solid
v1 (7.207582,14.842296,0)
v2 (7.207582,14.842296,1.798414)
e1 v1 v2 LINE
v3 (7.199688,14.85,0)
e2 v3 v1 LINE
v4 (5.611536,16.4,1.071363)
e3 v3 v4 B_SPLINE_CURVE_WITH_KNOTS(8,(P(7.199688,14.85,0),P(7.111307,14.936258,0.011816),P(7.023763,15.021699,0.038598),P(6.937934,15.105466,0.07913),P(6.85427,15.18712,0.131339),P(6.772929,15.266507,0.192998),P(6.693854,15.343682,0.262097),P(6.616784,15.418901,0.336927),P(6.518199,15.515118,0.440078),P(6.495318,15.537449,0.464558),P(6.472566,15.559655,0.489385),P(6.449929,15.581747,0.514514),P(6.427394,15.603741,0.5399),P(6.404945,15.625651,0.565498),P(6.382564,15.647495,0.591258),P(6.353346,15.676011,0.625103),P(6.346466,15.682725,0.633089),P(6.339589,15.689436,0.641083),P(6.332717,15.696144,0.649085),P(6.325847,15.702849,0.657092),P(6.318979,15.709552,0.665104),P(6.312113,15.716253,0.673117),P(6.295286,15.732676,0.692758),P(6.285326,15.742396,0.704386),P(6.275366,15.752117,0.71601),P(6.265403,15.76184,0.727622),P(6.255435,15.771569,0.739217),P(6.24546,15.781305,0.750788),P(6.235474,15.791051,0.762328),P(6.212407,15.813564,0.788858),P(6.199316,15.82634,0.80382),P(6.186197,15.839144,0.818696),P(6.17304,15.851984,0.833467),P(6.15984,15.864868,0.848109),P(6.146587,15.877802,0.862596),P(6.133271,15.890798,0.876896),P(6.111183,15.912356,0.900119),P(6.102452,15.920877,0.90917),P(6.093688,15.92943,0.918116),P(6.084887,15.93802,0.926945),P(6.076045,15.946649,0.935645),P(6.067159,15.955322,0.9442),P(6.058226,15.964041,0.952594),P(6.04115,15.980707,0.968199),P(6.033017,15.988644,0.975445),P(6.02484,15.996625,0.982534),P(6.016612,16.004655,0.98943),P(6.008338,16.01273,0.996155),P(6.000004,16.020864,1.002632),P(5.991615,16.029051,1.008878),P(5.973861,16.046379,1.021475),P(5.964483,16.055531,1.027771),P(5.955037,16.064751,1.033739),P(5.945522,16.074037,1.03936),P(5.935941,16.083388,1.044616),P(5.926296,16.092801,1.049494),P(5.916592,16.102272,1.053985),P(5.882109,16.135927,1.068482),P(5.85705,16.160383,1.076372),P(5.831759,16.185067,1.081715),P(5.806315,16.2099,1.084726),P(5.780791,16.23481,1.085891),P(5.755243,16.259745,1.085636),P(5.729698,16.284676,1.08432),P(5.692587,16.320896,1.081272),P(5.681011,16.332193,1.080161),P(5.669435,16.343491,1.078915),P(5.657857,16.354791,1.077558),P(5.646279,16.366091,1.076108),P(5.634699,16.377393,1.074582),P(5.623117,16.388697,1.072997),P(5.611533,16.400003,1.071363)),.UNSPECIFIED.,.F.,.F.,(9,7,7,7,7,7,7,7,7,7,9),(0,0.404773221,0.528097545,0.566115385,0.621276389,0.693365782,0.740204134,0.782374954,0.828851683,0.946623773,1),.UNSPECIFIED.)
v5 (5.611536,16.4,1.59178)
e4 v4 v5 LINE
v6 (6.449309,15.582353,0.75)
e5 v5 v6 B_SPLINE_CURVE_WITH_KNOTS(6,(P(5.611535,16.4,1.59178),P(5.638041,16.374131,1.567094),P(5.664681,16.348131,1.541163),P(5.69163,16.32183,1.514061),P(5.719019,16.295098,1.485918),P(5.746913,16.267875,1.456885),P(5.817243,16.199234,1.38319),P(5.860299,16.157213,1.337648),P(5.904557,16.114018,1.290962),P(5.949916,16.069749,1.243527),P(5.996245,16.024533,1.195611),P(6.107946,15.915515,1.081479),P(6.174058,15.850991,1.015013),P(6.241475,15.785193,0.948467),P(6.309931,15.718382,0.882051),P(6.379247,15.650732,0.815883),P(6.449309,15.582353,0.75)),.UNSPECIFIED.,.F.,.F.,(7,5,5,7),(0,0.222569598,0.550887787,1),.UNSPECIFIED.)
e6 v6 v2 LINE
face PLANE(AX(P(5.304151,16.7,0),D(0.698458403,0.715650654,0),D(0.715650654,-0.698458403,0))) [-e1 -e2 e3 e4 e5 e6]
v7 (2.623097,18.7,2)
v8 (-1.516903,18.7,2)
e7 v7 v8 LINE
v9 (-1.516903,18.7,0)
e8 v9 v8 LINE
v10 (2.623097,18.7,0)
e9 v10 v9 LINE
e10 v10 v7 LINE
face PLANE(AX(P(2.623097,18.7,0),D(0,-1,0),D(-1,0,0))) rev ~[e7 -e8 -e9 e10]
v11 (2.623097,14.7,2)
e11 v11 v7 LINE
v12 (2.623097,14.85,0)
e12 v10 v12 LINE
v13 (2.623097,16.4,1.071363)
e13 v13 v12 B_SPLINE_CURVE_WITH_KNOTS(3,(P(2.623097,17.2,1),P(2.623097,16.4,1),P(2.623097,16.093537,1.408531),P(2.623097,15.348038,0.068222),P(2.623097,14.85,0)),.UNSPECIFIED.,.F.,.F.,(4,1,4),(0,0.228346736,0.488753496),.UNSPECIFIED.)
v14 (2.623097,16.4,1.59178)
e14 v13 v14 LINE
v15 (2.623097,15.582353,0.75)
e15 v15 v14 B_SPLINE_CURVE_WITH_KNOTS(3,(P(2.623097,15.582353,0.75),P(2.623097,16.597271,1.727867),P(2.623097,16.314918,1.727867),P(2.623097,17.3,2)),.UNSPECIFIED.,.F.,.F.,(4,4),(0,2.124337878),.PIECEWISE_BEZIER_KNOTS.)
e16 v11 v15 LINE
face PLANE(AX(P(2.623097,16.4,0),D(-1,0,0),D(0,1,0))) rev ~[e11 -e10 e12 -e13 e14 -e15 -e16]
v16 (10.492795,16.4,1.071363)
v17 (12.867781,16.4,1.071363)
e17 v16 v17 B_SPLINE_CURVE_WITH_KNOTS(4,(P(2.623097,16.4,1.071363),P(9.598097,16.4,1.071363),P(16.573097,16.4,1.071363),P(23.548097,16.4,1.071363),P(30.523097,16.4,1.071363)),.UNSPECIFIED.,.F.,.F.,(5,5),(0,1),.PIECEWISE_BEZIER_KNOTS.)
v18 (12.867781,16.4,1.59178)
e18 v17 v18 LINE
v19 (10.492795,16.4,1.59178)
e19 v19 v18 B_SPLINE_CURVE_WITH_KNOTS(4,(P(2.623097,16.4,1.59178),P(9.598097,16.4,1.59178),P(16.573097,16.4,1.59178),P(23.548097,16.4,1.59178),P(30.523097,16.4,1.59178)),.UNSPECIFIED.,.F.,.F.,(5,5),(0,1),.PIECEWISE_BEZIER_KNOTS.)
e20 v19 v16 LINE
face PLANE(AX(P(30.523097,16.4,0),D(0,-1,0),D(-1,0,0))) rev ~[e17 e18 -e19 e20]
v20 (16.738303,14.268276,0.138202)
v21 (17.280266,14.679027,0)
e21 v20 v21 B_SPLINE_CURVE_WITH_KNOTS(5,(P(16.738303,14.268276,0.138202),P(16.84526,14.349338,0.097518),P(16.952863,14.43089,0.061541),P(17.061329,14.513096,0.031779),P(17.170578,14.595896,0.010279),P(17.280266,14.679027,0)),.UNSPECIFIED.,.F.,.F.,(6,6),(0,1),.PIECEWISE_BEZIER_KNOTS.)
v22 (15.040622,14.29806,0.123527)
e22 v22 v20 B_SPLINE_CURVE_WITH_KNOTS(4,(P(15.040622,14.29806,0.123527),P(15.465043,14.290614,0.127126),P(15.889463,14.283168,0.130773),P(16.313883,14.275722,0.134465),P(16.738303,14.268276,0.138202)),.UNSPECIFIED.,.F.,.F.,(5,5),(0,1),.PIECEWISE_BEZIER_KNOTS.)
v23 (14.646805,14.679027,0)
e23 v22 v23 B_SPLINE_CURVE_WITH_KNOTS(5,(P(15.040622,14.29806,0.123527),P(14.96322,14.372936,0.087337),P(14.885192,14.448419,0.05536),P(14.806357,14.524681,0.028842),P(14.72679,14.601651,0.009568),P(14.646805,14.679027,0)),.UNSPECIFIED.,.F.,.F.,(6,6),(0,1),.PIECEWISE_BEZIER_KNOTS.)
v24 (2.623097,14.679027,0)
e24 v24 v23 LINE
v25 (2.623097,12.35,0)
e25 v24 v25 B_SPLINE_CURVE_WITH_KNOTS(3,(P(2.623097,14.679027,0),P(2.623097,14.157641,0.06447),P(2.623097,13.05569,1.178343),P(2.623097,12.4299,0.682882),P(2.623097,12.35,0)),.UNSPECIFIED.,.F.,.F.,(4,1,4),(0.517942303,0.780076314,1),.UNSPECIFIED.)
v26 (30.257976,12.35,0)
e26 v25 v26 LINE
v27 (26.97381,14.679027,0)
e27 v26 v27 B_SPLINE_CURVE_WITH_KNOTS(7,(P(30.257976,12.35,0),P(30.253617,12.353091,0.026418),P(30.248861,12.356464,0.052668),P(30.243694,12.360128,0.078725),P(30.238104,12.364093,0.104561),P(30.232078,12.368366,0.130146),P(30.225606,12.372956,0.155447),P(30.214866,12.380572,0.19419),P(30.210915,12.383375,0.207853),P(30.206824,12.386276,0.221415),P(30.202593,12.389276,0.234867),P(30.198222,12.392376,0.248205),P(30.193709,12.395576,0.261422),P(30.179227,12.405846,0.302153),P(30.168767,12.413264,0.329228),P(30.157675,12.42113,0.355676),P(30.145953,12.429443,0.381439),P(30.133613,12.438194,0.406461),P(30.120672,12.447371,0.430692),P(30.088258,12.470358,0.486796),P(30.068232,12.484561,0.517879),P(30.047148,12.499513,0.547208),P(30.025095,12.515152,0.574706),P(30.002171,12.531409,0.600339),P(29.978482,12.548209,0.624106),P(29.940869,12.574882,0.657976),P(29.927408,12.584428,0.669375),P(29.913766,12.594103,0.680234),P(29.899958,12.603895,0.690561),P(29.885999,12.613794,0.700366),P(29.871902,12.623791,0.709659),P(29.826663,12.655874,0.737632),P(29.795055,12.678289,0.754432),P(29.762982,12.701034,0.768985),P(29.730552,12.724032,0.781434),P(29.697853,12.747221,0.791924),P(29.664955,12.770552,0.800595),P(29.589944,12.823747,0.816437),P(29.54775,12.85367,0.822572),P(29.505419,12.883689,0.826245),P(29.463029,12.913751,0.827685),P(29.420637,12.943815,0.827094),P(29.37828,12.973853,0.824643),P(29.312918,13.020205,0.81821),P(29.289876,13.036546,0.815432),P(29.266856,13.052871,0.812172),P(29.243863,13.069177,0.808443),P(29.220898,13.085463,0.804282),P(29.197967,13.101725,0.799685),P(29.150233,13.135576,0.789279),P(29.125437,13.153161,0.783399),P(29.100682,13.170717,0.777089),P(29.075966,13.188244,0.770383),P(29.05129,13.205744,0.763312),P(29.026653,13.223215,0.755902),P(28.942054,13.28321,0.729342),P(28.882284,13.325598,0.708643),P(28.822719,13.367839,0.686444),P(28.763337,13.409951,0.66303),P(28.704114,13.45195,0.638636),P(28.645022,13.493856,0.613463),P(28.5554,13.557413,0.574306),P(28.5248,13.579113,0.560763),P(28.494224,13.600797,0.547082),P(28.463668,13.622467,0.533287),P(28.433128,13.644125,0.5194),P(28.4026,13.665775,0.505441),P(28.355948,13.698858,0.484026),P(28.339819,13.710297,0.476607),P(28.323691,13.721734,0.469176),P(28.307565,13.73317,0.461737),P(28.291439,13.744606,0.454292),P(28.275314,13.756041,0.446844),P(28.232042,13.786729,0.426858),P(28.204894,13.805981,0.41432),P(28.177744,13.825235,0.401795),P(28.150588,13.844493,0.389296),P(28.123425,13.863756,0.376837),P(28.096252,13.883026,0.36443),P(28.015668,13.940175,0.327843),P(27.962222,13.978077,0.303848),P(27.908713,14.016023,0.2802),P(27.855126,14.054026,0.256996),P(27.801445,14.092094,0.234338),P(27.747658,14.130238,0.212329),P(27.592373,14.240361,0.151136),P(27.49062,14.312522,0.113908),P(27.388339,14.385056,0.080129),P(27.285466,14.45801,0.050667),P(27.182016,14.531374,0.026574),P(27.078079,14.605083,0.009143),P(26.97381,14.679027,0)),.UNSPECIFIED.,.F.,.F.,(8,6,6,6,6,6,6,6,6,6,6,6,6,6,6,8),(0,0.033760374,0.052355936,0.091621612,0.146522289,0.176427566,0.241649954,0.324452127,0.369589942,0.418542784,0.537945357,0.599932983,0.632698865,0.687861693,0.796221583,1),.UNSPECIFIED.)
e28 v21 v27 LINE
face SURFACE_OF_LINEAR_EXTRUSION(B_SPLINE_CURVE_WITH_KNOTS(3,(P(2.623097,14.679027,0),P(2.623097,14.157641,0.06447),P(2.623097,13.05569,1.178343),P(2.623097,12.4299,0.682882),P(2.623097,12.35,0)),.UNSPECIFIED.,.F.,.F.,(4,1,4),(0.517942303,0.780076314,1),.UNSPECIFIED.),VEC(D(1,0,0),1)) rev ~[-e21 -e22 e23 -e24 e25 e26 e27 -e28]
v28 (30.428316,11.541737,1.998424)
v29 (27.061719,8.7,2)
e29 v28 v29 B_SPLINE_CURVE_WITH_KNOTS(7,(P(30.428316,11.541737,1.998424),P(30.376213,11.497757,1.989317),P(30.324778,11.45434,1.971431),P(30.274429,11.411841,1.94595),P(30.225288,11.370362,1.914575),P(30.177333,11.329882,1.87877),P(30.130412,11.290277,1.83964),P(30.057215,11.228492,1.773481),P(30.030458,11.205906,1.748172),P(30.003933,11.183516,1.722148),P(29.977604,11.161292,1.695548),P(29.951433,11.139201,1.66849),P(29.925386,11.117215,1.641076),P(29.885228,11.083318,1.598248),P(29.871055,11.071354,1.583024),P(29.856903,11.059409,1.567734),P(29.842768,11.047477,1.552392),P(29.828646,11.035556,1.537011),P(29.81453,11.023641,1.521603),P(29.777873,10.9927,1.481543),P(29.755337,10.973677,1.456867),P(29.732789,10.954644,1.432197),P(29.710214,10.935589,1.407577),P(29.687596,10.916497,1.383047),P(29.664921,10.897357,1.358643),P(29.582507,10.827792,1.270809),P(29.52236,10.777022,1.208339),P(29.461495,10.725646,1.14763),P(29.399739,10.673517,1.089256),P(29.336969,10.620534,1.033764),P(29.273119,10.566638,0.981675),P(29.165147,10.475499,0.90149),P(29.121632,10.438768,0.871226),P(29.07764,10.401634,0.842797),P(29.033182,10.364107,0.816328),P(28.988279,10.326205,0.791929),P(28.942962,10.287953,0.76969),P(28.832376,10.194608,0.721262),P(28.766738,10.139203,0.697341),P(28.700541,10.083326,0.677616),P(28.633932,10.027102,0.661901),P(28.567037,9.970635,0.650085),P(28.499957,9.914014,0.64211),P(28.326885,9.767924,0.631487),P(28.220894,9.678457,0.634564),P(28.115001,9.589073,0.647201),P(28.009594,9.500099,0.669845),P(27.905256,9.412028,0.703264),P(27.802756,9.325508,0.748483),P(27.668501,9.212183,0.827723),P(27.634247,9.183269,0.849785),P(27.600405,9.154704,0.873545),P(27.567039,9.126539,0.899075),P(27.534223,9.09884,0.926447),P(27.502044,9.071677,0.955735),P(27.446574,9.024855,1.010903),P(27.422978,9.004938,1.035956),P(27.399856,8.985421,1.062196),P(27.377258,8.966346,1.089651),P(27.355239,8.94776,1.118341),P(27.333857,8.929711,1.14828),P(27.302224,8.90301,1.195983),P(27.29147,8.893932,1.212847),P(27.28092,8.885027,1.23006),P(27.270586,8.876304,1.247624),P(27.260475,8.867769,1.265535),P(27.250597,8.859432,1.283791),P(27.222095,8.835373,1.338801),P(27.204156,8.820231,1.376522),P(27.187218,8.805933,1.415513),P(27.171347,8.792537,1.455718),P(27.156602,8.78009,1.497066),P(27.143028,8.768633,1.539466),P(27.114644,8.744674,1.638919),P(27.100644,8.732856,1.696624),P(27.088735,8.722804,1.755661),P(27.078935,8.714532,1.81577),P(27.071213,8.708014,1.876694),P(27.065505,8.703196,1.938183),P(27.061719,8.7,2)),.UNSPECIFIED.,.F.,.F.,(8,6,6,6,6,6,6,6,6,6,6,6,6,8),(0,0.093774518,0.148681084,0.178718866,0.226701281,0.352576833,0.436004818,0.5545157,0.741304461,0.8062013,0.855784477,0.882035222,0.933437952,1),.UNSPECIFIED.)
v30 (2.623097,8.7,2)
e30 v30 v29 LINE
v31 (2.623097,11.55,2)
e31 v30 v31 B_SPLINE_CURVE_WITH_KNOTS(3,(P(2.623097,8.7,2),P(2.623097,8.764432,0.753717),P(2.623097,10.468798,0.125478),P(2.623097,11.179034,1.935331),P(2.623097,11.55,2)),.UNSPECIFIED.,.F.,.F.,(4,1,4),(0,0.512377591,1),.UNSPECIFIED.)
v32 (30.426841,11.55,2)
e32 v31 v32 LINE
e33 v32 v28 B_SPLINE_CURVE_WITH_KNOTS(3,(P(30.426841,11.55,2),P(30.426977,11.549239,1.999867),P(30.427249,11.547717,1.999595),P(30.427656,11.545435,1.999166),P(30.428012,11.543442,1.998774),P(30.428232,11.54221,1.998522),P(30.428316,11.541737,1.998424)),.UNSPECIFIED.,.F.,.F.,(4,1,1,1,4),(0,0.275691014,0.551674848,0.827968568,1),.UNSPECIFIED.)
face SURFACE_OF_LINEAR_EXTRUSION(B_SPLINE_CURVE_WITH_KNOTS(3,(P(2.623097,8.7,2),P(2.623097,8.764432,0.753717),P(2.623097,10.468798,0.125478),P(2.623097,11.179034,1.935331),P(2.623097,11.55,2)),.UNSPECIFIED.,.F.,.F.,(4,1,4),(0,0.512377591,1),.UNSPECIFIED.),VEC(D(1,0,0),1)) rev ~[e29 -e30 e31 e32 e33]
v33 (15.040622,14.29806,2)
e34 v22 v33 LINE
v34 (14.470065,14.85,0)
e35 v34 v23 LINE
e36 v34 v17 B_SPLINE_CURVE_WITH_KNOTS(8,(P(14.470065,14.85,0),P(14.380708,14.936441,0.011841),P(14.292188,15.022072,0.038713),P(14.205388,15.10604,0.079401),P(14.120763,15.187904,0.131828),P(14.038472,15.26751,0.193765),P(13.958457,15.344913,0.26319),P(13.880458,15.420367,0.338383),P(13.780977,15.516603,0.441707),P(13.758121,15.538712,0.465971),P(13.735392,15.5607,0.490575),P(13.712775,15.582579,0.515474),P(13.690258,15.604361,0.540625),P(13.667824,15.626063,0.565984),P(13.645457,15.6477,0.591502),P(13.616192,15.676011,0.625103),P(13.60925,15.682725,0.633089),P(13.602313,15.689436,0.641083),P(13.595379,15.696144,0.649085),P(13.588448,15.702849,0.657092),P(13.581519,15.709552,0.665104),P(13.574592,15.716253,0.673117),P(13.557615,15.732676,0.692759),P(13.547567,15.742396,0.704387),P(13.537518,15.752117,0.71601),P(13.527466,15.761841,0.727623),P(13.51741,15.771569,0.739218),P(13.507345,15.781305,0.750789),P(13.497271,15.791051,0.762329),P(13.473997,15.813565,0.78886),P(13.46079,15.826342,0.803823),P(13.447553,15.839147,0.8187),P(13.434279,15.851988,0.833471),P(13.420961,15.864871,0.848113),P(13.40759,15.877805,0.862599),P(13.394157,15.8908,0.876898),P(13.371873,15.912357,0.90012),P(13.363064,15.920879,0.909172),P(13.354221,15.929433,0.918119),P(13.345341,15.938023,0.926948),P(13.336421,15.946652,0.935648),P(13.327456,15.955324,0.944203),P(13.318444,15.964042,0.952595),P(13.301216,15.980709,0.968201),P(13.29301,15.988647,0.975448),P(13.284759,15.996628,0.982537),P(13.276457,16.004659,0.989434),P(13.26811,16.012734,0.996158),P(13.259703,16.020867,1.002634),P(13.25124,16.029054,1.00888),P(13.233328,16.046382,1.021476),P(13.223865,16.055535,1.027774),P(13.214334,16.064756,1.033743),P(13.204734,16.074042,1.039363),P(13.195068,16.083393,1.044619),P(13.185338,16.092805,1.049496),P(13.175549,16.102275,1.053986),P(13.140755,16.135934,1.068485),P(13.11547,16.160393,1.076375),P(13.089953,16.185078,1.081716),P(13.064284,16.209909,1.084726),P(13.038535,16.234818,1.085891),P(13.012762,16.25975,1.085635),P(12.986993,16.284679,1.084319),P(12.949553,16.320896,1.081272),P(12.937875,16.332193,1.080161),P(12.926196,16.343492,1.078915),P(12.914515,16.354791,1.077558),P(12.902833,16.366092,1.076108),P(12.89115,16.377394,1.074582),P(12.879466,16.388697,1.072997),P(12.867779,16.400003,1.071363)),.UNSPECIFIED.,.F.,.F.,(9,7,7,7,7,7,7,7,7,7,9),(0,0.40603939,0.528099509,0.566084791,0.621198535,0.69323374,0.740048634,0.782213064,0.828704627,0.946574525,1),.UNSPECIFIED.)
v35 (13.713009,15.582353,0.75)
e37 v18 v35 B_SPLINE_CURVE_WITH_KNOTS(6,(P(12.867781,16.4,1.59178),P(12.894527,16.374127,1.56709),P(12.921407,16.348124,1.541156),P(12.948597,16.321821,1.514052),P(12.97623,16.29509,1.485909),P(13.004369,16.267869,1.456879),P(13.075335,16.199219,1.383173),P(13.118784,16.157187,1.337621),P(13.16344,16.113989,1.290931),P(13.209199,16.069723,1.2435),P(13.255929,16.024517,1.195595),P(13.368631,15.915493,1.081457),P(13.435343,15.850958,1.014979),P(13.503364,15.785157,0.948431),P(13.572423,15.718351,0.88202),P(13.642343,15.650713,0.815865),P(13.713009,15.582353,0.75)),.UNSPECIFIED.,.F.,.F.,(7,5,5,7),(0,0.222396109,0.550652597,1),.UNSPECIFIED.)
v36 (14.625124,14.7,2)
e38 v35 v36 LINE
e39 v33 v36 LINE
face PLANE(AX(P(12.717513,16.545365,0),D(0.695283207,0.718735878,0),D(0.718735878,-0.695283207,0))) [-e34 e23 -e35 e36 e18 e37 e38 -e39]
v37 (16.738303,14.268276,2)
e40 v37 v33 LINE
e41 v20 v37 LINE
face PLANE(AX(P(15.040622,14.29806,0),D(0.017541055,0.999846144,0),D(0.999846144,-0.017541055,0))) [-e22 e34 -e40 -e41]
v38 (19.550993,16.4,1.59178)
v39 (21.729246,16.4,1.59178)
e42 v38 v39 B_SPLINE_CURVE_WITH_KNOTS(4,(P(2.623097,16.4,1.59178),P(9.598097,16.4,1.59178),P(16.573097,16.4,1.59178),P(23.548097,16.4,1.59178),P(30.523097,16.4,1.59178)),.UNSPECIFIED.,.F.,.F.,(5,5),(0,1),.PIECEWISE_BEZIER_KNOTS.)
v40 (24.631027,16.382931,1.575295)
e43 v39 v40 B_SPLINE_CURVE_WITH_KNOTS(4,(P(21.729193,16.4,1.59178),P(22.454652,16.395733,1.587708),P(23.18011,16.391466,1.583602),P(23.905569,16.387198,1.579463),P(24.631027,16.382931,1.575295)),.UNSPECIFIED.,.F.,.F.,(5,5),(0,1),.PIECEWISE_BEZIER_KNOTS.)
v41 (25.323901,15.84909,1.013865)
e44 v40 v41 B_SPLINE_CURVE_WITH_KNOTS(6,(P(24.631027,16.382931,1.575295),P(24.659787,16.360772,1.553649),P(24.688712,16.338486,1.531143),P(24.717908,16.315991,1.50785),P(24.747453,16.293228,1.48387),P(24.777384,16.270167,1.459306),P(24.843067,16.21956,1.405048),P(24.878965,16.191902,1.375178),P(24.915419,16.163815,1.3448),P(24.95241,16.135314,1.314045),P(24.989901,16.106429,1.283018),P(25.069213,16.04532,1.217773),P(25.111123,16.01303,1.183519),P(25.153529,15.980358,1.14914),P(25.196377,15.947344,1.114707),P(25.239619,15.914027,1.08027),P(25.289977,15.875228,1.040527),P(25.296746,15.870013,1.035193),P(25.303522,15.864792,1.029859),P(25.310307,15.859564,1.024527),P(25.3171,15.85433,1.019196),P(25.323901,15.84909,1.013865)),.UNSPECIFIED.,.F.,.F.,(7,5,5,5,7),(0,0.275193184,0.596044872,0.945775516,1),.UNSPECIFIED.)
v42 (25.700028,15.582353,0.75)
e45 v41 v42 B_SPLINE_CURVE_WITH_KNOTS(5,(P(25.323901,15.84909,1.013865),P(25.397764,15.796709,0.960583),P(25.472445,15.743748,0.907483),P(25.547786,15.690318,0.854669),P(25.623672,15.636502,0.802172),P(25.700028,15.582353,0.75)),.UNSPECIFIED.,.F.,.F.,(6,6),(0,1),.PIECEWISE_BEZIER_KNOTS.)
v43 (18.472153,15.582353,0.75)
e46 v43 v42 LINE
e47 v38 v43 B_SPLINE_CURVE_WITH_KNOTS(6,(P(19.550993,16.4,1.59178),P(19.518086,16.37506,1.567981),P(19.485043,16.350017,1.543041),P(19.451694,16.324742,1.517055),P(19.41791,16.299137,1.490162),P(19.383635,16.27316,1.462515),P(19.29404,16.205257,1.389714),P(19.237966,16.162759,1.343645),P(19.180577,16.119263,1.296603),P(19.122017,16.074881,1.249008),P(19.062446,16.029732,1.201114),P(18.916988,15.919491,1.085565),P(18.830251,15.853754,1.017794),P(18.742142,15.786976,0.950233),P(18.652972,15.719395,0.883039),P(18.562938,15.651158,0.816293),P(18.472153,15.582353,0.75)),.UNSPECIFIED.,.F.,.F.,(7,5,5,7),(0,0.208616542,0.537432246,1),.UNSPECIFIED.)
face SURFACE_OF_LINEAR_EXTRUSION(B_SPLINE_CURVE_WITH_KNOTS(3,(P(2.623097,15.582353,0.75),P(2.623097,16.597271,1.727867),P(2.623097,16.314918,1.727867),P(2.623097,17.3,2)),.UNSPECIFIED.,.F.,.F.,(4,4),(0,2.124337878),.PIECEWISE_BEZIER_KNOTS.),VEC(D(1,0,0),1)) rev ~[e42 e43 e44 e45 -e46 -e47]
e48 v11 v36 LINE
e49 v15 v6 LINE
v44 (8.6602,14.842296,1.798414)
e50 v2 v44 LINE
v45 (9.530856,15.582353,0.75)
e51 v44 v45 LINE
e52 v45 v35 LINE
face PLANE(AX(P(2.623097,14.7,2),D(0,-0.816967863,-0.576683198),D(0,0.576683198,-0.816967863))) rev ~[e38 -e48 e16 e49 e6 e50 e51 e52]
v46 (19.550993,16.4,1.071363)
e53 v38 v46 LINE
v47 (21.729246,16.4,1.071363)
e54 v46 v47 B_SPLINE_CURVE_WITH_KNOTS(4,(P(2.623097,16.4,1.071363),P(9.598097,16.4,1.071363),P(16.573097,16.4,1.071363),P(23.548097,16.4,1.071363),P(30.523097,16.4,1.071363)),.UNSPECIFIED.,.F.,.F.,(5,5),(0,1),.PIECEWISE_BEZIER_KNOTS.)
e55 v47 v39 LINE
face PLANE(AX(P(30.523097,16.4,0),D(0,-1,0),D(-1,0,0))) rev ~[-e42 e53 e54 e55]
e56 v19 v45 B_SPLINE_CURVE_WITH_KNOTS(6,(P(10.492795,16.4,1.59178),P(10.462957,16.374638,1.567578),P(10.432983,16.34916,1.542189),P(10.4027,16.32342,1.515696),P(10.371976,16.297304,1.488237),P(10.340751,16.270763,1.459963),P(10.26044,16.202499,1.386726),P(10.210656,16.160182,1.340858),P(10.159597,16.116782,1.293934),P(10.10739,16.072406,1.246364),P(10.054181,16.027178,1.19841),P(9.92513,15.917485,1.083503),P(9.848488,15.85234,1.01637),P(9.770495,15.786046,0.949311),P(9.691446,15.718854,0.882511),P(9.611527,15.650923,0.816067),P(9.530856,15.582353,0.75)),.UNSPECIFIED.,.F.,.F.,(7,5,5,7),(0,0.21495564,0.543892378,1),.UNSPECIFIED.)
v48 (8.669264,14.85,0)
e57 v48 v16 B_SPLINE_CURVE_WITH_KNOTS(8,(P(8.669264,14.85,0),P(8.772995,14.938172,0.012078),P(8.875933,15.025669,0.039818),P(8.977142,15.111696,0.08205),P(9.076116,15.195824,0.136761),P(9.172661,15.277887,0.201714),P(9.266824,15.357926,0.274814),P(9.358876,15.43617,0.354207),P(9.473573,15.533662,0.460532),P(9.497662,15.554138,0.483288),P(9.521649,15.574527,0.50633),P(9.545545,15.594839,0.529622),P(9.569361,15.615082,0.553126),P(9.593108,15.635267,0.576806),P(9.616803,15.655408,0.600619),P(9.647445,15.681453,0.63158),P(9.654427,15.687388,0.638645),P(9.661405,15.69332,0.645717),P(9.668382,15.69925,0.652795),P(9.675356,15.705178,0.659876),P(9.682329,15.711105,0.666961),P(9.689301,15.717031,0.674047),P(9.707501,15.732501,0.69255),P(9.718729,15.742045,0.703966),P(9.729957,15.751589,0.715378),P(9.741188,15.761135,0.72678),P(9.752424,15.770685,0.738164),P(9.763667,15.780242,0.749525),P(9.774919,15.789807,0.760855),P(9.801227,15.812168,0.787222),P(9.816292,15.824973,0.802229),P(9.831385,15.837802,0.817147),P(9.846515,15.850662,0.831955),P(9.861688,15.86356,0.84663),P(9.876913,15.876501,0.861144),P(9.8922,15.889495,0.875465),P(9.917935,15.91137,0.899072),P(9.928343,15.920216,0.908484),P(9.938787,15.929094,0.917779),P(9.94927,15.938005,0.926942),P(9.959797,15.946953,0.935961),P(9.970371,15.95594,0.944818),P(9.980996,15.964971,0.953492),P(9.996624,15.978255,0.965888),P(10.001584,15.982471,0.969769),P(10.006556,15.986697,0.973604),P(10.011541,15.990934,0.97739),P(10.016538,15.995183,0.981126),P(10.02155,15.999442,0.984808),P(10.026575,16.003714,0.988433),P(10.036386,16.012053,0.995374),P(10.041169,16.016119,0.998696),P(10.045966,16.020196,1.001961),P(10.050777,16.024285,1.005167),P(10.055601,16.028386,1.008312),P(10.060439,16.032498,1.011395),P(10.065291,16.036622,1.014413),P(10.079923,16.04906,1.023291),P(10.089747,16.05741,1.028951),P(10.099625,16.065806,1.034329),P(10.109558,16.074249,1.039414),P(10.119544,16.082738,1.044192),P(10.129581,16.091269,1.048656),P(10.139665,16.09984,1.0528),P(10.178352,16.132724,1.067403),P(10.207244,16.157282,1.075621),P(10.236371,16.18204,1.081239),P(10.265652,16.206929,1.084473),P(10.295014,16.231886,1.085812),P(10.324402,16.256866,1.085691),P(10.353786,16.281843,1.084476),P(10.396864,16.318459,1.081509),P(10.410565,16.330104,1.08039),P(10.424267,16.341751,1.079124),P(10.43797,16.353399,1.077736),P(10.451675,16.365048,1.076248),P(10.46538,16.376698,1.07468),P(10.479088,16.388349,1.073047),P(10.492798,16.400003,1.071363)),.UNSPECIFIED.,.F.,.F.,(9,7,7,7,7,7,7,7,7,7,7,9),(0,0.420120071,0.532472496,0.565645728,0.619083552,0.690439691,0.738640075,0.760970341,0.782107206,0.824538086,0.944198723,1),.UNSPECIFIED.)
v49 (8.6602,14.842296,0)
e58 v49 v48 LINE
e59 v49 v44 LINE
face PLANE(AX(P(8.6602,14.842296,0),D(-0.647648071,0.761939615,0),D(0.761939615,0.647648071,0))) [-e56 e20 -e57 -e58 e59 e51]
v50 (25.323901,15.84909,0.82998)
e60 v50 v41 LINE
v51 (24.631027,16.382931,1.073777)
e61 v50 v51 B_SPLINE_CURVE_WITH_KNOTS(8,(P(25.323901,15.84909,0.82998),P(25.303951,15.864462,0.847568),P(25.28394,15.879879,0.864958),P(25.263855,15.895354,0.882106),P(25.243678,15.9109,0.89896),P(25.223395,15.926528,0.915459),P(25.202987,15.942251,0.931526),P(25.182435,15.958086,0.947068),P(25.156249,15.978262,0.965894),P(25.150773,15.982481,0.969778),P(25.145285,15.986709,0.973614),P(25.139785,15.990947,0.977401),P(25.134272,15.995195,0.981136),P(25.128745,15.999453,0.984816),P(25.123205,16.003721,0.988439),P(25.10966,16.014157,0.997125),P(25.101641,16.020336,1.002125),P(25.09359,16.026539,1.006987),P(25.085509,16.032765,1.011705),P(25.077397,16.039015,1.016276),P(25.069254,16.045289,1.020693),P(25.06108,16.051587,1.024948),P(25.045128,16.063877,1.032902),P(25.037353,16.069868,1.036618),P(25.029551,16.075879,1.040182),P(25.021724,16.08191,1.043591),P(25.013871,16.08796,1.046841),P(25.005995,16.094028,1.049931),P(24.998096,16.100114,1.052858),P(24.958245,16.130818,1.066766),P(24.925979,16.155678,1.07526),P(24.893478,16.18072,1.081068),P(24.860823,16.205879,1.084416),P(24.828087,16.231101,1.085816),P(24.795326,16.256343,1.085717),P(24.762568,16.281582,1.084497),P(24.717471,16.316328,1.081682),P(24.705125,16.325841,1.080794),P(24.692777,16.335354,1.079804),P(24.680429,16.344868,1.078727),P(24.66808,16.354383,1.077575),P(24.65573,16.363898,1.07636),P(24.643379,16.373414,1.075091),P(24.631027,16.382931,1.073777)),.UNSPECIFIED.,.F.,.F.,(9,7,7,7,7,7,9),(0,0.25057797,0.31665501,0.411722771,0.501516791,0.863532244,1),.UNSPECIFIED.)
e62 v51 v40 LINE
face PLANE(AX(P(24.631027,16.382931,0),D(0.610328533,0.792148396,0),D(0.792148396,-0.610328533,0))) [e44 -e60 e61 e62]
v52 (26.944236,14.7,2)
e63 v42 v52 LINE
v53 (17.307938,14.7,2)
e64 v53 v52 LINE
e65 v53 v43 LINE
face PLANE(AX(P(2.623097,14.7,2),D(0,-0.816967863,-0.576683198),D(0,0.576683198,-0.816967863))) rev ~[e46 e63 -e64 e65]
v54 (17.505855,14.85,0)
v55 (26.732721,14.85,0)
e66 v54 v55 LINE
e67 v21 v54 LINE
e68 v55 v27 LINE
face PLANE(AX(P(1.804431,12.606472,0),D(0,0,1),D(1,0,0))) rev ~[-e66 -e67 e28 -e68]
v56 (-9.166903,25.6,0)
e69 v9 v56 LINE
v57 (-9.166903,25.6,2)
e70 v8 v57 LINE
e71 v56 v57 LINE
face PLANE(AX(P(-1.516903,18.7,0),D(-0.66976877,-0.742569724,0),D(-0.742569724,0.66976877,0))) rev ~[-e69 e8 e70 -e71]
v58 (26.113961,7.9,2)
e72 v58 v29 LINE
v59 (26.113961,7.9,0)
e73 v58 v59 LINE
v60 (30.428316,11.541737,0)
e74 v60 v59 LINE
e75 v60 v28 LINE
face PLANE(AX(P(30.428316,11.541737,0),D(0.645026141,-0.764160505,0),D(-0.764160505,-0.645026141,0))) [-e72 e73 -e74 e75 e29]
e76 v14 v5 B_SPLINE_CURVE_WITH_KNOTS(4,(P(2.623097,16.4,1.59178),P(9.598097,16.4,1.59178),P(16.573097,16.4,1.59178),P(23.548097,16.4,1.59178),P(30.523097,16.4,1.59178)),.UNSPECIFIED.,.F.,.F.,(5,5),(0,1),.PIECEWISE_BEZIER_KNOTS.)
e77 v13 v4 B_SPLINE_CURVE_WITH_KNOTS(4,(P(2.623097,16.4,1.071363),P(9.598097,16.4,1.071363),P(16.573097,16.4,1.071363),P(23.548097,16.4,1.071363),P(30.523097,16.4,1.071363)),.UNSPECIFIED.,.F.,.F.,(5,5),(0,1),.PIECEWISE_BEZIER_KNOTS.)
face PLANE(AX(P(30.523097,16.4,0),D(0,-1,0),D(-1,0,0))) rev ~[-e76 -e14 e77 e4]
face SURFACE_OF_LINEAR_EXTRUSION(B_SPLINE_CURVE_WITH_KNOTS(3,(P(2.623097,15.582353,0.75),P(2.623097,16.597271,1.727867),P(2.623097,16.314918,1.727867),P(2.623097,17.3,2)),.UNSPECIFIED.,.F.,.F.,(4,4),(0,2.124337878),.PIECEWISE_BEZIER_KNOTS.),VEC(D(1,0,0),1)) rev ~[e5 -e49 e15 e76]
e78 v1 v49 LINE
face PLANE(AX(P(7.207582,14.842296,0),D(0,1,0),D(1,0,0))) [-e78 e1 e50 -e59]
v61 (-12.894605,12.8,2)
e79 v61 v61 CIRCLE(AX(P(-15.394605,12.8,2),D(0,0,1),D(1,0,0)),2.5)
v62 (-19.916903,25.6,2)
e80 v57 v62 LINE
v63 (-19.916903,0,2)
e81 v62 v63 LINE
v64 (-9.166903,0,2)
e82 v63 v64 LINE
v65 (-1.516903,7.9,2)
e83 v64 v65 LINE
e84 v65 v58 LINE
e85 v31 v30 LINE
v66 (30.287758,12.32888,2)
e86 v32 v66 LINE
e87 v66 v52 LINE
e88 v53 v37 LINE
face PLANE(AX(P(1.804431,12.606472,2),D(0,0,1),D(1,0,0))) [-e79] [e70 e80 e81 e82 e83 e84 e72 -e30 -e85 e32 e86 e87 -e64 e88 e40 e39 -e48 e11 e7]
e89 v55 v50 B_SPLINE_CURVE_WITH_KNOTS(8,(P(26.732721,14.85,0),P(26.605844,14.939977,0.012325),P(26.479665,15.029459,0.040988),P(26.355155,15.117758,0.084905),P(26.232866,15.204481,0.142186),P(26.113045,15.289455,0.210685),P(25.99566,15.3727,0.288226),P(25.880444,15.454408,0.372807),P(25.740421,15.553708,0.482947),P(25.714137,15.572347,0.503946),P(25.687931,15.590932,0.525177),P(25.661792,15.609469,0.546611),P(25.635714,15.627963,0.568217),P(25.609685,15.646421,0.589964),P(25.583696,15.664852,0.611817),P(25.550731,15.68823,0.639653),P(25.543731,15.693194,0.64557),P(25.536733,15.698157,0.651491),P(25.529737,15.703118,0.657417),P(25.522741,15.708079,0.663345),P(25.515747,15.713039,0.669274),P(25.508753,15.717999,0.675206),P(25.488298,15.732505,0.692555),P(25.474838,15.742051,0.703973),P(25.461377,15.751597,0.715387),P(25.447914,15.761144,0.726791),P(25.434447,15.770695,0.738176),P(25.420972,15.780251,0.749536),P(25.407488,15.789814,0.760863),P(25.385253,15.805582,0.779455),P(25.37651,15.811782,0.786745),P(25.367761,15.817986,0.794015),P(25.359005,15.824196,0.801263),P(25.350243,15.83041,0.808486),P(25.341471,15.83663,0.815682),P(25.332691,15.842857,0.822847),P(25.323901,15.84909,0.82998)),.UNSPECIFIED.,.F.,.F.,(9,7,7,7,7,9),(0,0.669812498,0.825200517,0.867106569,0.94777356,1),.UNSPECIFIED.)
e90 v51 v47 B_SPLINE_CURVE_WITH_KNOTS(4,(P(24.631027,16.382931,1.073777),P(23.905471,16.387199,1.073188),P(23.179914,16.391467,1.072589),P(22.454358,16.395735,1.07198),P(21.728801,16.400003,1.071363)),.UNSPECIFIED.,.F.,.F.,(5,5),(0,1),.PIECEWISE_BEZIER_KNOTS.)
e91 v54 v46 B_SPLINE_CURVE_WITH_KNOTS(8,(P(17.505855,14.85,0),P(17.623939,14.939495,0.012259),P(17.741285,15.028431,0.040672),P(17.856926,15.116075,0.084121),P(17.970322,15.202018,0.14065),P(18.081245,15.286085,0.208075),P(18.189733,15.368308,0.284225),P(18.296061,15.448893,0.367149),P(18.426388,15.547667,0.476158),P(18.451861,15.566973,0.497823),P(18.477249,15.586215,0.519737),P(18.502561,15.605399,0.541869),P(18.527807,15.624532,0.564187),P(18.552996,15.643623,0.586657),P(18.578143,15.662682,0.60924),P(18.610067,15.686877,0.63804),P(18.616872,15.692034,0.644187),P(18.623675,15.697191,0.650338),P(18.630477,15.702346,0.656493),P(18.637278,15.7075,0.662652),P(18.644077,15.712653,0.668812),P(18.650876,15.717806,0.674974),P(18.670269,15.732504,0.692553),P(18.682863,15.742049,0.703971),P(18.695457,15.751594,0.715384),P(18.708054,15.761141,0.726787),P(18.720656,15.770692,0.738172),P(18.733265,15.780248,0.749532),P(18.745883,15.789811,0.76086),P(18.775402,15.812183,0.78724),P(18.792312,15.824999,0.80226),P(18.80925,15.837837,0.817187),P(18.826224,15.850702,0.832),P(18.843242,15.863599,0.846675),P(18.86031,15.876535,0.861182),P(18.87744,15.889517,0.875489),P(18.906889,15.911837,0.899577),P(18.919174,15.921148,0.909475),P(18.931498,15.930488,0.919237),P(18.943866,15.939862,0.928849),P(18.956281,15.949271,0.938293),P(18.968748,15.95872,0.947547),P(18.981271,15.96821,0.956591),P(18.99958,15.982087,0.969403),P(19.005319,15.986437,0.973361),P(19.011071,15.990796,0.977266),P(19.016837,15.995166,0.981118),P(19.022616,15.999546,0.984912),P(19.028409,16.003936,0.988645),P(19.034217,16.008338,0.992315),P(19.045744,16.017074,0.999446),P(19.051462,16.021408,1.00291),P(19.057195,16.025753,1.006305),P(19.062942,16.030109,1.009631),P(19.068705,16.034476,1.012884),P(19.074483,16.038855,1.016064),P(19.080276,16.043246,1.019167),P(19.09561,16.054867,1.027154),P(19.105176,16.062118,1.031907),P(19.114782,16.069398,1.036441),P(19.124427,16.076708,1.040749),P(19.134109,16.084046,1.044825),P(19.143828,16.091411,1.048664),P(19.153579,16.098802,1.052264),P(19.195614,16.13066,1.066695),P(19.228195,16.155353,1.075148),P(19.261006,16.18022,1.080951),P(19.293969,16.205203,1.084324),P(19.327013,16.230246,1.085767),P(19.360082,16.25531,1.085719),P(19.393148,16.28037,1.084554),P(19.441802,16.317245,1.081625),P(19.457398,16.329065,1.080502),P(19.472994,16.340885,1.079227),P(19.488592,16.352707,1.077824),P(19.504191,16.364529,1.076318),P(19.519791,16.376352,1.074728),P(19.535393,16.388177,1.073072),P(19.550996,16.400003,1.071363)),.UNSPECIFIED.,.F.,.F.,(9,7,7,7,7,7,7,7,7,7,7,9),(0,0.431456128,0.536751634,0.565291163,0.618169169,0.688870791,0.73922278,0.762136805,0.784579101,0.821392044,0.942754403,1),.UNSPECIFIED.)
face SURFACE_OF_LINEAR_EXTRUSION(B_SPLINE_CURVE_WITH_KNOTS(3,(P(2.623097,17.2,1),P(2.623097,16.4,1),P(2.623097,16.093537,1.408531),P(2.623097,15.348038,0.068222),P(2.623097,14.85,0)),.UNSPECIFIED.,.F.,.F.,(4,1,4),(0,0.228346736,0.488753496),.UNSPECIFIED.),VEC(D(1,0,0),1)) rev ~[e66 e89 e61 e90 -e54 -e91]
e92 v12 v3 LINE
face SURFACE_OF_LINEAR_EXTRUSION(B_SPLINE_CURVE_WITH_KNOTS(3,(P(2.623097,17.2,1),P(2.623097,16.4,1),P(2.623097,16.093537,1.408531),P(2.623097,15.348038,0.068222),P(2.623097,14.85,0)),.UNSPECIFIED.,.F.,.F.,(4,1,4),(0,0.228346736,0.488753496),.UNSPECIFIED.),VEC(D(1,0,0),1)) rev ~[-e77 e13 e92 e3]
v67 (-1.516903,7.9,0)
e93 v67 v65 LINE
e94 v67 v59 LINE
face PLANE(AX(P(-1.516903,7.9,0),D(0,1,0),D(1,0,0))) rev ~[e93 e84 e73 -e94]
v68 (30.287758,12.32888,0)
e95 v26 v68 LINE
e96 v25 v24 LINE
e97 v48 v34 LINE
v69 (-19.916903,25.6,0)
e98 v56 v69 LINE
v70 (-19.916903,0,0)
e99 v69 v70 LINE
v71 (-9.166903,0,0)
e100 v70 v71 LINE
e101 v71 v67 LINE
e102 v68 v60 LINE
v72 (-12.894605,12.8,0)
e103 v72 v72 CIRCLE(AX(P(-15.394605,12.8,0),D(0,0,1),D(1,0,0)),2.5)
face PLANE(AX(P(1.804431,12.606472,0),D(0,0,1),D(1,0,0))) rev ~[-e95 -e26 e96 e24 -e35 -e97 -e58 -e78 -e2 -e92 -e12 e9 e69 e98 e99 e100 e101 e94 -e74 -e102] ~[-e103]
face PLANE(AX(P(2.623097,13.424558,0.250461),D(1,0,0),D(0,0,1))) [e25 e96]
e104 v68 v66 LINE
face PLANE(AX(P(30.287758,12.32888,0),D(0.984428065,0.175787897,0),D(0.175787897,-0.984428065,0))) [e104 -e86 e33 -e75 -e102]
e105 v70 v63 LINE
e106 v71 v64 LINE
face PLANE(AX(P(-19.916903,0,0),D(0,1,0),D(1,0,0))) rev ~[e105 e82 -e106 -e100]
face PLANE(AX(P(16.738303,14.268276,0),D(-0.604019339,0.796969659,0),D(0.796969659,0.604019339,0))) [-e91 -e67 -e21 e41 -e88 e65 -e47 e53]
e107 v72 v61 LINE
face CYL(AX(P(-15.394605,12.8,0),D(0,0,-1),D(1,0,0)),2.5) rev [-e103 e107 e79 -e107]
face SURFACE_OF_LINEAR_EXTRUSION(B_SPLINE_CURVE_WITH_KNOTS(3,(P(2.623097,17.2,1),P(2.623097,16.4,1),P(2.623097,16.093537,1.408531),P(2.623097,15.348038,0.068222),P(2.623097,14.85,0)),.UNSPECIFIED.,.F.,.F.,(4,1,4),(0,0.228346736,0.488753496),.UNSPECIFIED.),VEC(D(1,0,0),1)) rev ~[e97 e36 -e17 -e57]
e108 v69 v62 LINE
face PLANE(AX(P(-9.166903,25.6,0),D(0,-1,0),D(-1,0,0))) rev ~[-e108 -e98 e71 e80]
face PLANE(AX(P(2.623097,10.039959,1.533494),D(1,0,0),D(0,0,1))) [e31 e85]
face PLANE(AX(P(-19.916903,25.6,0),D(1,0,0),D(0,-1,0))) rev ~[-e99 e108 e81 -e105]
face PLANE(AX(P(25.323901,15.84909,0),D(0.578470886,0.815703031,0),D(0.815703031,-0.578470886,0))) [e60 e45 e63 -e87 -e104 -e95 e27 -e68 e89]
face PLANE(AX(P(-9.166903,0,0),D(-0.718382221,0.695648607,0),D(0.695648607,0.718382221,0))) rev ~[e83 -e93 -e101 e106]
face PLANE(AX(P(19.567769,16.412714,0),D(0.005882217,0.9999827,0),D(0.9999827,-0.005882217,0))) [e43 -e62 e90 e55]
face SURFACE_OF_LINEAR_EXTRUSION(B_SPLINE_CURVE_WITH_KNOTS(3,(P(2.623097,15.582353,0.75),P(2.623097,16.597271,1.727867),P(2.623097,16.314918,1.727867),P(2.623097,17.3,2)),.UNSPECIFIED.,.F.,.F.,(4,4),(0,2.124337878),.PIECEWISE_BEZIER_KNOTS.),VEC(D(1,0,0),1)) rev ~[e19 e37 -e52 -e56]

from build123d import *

# Parameters (mm, degrees)
F0_R      = 2.5
F1_DEPTH  = 2
F12_DEPTH = 2.0010001


with BuildPart() as f1:
    # F0 (on Top) → F1 (new body)
    with BuildSketch(Plane.XY):
        Polygon((-9.1669032276, 25.6), (-19.9169032276, 25.6), (-19.9169032276, 0), (-9.1669032276, 0), (-1.5169032276, 7.9), (30.5230967724, 7.9), (30.5230967724, 16.4), (2.6230967724, 16.4), (2.6230967724, 18.7), (-1.5169032276, 18.7), align=None)
        with Locations((-15.3946050969, 12.8)):
            Circle(F0_R, mode=Mode.SUBTRACT)
    extrude(amount=F1_DEPTH)

    # F4: sweep along a path in F2
    with BuildLine(Plane.XY.offset(2)) as f4_path:
        Line((2.6230967724, 15.15), (30.5230967724, 15.15))
    # F3 (on face) → F4 (sweep, cut)
    with BuildSketch(Plane.YZ.offset(2.6230967724)):
        with BuildLine():
            Line((17.3, 2), (15.3, 2))
            Line((15.3, 2), (14.7, 2))
            Line((14.7, 2), (15.5823529412, 0.75))
            add(Edge.make_bspline(
                [(15.5823529412, 0.75), (16.5972711165, 1.727867192), (16.3149181753, 1.727867192), (17.3, 2)],
                knots=[0, 0, 0, 0, 2.1243378777, 2.1243378777, 2.1243378777, 2.1243378777], degree=3))
        make_face()
    sweep(path=f4_path.line, mode=Mode.SUBTRACT)

    # F7: sweep along a path in F5
    with BuildLine(Plane.XY.offset(2)) as f7_path:
        Line((2.6230967724, 10.25), (30.5230967724, 10.25))
    # F6 (on face) → F7 (sweep, cut)
    with BuildSketch(Plane.YZ.offset(2.6230967724)):
        with BuildLine():
            add(Edge.make_bspline(
                [(11.55, 2), (11.1790336668, 1.9353309371), (10.4687979638, 0.1254777743), (8.7644318119, 0.7537172832), (8.7, 2)],
                knots=[0, 0, 0, 0, 0.4876224091, 1, 1, 1, 1], degree=3))
            Line((11.55, 2), (8.7, 2))
        make_face()
    sweep(path=f7_path.line, mode=Mode.SUBTRACT)

    # F10: sweep along a path in F8
    with BuildLine(Plane(origin=(0, 0, 0), x_dir=(1, 0, 0), z_dir=(0, 0, -1))) as f10_path:
        Line((2.6230967724, -17.2), (30.5230967724, -17.2))
    # F9 (on face) → F10 (sweep, cut)
    with BuildSketch(Plane.YZ.offset(2.6230967724)):
        with BuildLine():
            Line((17.2, 0), (17.2, 1))
            add(Edge.make_bspline(
                [(17.2, 1), (16.4, 1), (16.0935369316, 1.4085311701), (15.3480378536, 0.0682215952), (14.85, 0)],
                knots=[0, 0, 0, 0, 0.2283467357, 0.4887534963, 0.4887534963, 0.4887534963, 0.4887534963], degree=3))
            Line((14.85, 0), (17.2, 0))
        make_face()
        with BuildLine():
            Line((12.35, 0), (14.6790269663, 0))
            add(Edge.make_bspline(
                [(14.6790269663, 0), (14.1576409549, 0.0644703918), (13.0556896692, 1.1783434405), (12.4299004674, 0.6828821497), (12.35, 0)],
                knots=[0.5179423028, 0.5179423028, 0.5179423028, 0.5179423028, 0.7800763138, 1, 1, 1, 1], degree=3))
        make_face()
        with BuildLine():
            add(Edge.make_bspline(
                [(14.85, 0), (14.7941752951, -0.0076469096), (14.7370836655, -0.0071788235), (14.6790269663, 0)],
                knots=[0.4887534963, 0.4887534963, 0.4887534963, 0.4887534963, 0.5179423028, 0.5179423028, 0.5179423028, 0.5179423028], degree=3))
            Line((14.85, 0), (14.6790269663, 0))
        make_face()
    sweep(path=f10_path.line, mode=Mode.SUBTRACT)

    # F11 (on Top) → F12 (cut, through all)
    with BuildSketch(Plane.XY):
        Polygon((39.7434785501, 18.7), (2.6230967724, 18.7), (2.6230967724, 16.7), (5.3041512147, 16.7), (7.2075817734, 14.8422960192), (8.660200052, 14.8422960192), (10.6638120487, 16.5453646332), (12.7175133675, 16.5453646332), (15.0406220928, 14.2980599776), (16.7383030057, 14.2682762817), (19.5677690208, 16.4127144963), (24.6310271323, 16.3829308003), (25.3239014027, 15.8490902482), (30.2877575159, 12.3288799077), (30.4283164442, 11.5417372435), (25.4341885448, 7.3262052611), (39.7434785501, 7.5555583894), (39.7434785501, 11.2498085946), align=None)
    extrude(amount=F12_DEPTH, mode=Mode.SUBTRACT)


solid = f1.part
